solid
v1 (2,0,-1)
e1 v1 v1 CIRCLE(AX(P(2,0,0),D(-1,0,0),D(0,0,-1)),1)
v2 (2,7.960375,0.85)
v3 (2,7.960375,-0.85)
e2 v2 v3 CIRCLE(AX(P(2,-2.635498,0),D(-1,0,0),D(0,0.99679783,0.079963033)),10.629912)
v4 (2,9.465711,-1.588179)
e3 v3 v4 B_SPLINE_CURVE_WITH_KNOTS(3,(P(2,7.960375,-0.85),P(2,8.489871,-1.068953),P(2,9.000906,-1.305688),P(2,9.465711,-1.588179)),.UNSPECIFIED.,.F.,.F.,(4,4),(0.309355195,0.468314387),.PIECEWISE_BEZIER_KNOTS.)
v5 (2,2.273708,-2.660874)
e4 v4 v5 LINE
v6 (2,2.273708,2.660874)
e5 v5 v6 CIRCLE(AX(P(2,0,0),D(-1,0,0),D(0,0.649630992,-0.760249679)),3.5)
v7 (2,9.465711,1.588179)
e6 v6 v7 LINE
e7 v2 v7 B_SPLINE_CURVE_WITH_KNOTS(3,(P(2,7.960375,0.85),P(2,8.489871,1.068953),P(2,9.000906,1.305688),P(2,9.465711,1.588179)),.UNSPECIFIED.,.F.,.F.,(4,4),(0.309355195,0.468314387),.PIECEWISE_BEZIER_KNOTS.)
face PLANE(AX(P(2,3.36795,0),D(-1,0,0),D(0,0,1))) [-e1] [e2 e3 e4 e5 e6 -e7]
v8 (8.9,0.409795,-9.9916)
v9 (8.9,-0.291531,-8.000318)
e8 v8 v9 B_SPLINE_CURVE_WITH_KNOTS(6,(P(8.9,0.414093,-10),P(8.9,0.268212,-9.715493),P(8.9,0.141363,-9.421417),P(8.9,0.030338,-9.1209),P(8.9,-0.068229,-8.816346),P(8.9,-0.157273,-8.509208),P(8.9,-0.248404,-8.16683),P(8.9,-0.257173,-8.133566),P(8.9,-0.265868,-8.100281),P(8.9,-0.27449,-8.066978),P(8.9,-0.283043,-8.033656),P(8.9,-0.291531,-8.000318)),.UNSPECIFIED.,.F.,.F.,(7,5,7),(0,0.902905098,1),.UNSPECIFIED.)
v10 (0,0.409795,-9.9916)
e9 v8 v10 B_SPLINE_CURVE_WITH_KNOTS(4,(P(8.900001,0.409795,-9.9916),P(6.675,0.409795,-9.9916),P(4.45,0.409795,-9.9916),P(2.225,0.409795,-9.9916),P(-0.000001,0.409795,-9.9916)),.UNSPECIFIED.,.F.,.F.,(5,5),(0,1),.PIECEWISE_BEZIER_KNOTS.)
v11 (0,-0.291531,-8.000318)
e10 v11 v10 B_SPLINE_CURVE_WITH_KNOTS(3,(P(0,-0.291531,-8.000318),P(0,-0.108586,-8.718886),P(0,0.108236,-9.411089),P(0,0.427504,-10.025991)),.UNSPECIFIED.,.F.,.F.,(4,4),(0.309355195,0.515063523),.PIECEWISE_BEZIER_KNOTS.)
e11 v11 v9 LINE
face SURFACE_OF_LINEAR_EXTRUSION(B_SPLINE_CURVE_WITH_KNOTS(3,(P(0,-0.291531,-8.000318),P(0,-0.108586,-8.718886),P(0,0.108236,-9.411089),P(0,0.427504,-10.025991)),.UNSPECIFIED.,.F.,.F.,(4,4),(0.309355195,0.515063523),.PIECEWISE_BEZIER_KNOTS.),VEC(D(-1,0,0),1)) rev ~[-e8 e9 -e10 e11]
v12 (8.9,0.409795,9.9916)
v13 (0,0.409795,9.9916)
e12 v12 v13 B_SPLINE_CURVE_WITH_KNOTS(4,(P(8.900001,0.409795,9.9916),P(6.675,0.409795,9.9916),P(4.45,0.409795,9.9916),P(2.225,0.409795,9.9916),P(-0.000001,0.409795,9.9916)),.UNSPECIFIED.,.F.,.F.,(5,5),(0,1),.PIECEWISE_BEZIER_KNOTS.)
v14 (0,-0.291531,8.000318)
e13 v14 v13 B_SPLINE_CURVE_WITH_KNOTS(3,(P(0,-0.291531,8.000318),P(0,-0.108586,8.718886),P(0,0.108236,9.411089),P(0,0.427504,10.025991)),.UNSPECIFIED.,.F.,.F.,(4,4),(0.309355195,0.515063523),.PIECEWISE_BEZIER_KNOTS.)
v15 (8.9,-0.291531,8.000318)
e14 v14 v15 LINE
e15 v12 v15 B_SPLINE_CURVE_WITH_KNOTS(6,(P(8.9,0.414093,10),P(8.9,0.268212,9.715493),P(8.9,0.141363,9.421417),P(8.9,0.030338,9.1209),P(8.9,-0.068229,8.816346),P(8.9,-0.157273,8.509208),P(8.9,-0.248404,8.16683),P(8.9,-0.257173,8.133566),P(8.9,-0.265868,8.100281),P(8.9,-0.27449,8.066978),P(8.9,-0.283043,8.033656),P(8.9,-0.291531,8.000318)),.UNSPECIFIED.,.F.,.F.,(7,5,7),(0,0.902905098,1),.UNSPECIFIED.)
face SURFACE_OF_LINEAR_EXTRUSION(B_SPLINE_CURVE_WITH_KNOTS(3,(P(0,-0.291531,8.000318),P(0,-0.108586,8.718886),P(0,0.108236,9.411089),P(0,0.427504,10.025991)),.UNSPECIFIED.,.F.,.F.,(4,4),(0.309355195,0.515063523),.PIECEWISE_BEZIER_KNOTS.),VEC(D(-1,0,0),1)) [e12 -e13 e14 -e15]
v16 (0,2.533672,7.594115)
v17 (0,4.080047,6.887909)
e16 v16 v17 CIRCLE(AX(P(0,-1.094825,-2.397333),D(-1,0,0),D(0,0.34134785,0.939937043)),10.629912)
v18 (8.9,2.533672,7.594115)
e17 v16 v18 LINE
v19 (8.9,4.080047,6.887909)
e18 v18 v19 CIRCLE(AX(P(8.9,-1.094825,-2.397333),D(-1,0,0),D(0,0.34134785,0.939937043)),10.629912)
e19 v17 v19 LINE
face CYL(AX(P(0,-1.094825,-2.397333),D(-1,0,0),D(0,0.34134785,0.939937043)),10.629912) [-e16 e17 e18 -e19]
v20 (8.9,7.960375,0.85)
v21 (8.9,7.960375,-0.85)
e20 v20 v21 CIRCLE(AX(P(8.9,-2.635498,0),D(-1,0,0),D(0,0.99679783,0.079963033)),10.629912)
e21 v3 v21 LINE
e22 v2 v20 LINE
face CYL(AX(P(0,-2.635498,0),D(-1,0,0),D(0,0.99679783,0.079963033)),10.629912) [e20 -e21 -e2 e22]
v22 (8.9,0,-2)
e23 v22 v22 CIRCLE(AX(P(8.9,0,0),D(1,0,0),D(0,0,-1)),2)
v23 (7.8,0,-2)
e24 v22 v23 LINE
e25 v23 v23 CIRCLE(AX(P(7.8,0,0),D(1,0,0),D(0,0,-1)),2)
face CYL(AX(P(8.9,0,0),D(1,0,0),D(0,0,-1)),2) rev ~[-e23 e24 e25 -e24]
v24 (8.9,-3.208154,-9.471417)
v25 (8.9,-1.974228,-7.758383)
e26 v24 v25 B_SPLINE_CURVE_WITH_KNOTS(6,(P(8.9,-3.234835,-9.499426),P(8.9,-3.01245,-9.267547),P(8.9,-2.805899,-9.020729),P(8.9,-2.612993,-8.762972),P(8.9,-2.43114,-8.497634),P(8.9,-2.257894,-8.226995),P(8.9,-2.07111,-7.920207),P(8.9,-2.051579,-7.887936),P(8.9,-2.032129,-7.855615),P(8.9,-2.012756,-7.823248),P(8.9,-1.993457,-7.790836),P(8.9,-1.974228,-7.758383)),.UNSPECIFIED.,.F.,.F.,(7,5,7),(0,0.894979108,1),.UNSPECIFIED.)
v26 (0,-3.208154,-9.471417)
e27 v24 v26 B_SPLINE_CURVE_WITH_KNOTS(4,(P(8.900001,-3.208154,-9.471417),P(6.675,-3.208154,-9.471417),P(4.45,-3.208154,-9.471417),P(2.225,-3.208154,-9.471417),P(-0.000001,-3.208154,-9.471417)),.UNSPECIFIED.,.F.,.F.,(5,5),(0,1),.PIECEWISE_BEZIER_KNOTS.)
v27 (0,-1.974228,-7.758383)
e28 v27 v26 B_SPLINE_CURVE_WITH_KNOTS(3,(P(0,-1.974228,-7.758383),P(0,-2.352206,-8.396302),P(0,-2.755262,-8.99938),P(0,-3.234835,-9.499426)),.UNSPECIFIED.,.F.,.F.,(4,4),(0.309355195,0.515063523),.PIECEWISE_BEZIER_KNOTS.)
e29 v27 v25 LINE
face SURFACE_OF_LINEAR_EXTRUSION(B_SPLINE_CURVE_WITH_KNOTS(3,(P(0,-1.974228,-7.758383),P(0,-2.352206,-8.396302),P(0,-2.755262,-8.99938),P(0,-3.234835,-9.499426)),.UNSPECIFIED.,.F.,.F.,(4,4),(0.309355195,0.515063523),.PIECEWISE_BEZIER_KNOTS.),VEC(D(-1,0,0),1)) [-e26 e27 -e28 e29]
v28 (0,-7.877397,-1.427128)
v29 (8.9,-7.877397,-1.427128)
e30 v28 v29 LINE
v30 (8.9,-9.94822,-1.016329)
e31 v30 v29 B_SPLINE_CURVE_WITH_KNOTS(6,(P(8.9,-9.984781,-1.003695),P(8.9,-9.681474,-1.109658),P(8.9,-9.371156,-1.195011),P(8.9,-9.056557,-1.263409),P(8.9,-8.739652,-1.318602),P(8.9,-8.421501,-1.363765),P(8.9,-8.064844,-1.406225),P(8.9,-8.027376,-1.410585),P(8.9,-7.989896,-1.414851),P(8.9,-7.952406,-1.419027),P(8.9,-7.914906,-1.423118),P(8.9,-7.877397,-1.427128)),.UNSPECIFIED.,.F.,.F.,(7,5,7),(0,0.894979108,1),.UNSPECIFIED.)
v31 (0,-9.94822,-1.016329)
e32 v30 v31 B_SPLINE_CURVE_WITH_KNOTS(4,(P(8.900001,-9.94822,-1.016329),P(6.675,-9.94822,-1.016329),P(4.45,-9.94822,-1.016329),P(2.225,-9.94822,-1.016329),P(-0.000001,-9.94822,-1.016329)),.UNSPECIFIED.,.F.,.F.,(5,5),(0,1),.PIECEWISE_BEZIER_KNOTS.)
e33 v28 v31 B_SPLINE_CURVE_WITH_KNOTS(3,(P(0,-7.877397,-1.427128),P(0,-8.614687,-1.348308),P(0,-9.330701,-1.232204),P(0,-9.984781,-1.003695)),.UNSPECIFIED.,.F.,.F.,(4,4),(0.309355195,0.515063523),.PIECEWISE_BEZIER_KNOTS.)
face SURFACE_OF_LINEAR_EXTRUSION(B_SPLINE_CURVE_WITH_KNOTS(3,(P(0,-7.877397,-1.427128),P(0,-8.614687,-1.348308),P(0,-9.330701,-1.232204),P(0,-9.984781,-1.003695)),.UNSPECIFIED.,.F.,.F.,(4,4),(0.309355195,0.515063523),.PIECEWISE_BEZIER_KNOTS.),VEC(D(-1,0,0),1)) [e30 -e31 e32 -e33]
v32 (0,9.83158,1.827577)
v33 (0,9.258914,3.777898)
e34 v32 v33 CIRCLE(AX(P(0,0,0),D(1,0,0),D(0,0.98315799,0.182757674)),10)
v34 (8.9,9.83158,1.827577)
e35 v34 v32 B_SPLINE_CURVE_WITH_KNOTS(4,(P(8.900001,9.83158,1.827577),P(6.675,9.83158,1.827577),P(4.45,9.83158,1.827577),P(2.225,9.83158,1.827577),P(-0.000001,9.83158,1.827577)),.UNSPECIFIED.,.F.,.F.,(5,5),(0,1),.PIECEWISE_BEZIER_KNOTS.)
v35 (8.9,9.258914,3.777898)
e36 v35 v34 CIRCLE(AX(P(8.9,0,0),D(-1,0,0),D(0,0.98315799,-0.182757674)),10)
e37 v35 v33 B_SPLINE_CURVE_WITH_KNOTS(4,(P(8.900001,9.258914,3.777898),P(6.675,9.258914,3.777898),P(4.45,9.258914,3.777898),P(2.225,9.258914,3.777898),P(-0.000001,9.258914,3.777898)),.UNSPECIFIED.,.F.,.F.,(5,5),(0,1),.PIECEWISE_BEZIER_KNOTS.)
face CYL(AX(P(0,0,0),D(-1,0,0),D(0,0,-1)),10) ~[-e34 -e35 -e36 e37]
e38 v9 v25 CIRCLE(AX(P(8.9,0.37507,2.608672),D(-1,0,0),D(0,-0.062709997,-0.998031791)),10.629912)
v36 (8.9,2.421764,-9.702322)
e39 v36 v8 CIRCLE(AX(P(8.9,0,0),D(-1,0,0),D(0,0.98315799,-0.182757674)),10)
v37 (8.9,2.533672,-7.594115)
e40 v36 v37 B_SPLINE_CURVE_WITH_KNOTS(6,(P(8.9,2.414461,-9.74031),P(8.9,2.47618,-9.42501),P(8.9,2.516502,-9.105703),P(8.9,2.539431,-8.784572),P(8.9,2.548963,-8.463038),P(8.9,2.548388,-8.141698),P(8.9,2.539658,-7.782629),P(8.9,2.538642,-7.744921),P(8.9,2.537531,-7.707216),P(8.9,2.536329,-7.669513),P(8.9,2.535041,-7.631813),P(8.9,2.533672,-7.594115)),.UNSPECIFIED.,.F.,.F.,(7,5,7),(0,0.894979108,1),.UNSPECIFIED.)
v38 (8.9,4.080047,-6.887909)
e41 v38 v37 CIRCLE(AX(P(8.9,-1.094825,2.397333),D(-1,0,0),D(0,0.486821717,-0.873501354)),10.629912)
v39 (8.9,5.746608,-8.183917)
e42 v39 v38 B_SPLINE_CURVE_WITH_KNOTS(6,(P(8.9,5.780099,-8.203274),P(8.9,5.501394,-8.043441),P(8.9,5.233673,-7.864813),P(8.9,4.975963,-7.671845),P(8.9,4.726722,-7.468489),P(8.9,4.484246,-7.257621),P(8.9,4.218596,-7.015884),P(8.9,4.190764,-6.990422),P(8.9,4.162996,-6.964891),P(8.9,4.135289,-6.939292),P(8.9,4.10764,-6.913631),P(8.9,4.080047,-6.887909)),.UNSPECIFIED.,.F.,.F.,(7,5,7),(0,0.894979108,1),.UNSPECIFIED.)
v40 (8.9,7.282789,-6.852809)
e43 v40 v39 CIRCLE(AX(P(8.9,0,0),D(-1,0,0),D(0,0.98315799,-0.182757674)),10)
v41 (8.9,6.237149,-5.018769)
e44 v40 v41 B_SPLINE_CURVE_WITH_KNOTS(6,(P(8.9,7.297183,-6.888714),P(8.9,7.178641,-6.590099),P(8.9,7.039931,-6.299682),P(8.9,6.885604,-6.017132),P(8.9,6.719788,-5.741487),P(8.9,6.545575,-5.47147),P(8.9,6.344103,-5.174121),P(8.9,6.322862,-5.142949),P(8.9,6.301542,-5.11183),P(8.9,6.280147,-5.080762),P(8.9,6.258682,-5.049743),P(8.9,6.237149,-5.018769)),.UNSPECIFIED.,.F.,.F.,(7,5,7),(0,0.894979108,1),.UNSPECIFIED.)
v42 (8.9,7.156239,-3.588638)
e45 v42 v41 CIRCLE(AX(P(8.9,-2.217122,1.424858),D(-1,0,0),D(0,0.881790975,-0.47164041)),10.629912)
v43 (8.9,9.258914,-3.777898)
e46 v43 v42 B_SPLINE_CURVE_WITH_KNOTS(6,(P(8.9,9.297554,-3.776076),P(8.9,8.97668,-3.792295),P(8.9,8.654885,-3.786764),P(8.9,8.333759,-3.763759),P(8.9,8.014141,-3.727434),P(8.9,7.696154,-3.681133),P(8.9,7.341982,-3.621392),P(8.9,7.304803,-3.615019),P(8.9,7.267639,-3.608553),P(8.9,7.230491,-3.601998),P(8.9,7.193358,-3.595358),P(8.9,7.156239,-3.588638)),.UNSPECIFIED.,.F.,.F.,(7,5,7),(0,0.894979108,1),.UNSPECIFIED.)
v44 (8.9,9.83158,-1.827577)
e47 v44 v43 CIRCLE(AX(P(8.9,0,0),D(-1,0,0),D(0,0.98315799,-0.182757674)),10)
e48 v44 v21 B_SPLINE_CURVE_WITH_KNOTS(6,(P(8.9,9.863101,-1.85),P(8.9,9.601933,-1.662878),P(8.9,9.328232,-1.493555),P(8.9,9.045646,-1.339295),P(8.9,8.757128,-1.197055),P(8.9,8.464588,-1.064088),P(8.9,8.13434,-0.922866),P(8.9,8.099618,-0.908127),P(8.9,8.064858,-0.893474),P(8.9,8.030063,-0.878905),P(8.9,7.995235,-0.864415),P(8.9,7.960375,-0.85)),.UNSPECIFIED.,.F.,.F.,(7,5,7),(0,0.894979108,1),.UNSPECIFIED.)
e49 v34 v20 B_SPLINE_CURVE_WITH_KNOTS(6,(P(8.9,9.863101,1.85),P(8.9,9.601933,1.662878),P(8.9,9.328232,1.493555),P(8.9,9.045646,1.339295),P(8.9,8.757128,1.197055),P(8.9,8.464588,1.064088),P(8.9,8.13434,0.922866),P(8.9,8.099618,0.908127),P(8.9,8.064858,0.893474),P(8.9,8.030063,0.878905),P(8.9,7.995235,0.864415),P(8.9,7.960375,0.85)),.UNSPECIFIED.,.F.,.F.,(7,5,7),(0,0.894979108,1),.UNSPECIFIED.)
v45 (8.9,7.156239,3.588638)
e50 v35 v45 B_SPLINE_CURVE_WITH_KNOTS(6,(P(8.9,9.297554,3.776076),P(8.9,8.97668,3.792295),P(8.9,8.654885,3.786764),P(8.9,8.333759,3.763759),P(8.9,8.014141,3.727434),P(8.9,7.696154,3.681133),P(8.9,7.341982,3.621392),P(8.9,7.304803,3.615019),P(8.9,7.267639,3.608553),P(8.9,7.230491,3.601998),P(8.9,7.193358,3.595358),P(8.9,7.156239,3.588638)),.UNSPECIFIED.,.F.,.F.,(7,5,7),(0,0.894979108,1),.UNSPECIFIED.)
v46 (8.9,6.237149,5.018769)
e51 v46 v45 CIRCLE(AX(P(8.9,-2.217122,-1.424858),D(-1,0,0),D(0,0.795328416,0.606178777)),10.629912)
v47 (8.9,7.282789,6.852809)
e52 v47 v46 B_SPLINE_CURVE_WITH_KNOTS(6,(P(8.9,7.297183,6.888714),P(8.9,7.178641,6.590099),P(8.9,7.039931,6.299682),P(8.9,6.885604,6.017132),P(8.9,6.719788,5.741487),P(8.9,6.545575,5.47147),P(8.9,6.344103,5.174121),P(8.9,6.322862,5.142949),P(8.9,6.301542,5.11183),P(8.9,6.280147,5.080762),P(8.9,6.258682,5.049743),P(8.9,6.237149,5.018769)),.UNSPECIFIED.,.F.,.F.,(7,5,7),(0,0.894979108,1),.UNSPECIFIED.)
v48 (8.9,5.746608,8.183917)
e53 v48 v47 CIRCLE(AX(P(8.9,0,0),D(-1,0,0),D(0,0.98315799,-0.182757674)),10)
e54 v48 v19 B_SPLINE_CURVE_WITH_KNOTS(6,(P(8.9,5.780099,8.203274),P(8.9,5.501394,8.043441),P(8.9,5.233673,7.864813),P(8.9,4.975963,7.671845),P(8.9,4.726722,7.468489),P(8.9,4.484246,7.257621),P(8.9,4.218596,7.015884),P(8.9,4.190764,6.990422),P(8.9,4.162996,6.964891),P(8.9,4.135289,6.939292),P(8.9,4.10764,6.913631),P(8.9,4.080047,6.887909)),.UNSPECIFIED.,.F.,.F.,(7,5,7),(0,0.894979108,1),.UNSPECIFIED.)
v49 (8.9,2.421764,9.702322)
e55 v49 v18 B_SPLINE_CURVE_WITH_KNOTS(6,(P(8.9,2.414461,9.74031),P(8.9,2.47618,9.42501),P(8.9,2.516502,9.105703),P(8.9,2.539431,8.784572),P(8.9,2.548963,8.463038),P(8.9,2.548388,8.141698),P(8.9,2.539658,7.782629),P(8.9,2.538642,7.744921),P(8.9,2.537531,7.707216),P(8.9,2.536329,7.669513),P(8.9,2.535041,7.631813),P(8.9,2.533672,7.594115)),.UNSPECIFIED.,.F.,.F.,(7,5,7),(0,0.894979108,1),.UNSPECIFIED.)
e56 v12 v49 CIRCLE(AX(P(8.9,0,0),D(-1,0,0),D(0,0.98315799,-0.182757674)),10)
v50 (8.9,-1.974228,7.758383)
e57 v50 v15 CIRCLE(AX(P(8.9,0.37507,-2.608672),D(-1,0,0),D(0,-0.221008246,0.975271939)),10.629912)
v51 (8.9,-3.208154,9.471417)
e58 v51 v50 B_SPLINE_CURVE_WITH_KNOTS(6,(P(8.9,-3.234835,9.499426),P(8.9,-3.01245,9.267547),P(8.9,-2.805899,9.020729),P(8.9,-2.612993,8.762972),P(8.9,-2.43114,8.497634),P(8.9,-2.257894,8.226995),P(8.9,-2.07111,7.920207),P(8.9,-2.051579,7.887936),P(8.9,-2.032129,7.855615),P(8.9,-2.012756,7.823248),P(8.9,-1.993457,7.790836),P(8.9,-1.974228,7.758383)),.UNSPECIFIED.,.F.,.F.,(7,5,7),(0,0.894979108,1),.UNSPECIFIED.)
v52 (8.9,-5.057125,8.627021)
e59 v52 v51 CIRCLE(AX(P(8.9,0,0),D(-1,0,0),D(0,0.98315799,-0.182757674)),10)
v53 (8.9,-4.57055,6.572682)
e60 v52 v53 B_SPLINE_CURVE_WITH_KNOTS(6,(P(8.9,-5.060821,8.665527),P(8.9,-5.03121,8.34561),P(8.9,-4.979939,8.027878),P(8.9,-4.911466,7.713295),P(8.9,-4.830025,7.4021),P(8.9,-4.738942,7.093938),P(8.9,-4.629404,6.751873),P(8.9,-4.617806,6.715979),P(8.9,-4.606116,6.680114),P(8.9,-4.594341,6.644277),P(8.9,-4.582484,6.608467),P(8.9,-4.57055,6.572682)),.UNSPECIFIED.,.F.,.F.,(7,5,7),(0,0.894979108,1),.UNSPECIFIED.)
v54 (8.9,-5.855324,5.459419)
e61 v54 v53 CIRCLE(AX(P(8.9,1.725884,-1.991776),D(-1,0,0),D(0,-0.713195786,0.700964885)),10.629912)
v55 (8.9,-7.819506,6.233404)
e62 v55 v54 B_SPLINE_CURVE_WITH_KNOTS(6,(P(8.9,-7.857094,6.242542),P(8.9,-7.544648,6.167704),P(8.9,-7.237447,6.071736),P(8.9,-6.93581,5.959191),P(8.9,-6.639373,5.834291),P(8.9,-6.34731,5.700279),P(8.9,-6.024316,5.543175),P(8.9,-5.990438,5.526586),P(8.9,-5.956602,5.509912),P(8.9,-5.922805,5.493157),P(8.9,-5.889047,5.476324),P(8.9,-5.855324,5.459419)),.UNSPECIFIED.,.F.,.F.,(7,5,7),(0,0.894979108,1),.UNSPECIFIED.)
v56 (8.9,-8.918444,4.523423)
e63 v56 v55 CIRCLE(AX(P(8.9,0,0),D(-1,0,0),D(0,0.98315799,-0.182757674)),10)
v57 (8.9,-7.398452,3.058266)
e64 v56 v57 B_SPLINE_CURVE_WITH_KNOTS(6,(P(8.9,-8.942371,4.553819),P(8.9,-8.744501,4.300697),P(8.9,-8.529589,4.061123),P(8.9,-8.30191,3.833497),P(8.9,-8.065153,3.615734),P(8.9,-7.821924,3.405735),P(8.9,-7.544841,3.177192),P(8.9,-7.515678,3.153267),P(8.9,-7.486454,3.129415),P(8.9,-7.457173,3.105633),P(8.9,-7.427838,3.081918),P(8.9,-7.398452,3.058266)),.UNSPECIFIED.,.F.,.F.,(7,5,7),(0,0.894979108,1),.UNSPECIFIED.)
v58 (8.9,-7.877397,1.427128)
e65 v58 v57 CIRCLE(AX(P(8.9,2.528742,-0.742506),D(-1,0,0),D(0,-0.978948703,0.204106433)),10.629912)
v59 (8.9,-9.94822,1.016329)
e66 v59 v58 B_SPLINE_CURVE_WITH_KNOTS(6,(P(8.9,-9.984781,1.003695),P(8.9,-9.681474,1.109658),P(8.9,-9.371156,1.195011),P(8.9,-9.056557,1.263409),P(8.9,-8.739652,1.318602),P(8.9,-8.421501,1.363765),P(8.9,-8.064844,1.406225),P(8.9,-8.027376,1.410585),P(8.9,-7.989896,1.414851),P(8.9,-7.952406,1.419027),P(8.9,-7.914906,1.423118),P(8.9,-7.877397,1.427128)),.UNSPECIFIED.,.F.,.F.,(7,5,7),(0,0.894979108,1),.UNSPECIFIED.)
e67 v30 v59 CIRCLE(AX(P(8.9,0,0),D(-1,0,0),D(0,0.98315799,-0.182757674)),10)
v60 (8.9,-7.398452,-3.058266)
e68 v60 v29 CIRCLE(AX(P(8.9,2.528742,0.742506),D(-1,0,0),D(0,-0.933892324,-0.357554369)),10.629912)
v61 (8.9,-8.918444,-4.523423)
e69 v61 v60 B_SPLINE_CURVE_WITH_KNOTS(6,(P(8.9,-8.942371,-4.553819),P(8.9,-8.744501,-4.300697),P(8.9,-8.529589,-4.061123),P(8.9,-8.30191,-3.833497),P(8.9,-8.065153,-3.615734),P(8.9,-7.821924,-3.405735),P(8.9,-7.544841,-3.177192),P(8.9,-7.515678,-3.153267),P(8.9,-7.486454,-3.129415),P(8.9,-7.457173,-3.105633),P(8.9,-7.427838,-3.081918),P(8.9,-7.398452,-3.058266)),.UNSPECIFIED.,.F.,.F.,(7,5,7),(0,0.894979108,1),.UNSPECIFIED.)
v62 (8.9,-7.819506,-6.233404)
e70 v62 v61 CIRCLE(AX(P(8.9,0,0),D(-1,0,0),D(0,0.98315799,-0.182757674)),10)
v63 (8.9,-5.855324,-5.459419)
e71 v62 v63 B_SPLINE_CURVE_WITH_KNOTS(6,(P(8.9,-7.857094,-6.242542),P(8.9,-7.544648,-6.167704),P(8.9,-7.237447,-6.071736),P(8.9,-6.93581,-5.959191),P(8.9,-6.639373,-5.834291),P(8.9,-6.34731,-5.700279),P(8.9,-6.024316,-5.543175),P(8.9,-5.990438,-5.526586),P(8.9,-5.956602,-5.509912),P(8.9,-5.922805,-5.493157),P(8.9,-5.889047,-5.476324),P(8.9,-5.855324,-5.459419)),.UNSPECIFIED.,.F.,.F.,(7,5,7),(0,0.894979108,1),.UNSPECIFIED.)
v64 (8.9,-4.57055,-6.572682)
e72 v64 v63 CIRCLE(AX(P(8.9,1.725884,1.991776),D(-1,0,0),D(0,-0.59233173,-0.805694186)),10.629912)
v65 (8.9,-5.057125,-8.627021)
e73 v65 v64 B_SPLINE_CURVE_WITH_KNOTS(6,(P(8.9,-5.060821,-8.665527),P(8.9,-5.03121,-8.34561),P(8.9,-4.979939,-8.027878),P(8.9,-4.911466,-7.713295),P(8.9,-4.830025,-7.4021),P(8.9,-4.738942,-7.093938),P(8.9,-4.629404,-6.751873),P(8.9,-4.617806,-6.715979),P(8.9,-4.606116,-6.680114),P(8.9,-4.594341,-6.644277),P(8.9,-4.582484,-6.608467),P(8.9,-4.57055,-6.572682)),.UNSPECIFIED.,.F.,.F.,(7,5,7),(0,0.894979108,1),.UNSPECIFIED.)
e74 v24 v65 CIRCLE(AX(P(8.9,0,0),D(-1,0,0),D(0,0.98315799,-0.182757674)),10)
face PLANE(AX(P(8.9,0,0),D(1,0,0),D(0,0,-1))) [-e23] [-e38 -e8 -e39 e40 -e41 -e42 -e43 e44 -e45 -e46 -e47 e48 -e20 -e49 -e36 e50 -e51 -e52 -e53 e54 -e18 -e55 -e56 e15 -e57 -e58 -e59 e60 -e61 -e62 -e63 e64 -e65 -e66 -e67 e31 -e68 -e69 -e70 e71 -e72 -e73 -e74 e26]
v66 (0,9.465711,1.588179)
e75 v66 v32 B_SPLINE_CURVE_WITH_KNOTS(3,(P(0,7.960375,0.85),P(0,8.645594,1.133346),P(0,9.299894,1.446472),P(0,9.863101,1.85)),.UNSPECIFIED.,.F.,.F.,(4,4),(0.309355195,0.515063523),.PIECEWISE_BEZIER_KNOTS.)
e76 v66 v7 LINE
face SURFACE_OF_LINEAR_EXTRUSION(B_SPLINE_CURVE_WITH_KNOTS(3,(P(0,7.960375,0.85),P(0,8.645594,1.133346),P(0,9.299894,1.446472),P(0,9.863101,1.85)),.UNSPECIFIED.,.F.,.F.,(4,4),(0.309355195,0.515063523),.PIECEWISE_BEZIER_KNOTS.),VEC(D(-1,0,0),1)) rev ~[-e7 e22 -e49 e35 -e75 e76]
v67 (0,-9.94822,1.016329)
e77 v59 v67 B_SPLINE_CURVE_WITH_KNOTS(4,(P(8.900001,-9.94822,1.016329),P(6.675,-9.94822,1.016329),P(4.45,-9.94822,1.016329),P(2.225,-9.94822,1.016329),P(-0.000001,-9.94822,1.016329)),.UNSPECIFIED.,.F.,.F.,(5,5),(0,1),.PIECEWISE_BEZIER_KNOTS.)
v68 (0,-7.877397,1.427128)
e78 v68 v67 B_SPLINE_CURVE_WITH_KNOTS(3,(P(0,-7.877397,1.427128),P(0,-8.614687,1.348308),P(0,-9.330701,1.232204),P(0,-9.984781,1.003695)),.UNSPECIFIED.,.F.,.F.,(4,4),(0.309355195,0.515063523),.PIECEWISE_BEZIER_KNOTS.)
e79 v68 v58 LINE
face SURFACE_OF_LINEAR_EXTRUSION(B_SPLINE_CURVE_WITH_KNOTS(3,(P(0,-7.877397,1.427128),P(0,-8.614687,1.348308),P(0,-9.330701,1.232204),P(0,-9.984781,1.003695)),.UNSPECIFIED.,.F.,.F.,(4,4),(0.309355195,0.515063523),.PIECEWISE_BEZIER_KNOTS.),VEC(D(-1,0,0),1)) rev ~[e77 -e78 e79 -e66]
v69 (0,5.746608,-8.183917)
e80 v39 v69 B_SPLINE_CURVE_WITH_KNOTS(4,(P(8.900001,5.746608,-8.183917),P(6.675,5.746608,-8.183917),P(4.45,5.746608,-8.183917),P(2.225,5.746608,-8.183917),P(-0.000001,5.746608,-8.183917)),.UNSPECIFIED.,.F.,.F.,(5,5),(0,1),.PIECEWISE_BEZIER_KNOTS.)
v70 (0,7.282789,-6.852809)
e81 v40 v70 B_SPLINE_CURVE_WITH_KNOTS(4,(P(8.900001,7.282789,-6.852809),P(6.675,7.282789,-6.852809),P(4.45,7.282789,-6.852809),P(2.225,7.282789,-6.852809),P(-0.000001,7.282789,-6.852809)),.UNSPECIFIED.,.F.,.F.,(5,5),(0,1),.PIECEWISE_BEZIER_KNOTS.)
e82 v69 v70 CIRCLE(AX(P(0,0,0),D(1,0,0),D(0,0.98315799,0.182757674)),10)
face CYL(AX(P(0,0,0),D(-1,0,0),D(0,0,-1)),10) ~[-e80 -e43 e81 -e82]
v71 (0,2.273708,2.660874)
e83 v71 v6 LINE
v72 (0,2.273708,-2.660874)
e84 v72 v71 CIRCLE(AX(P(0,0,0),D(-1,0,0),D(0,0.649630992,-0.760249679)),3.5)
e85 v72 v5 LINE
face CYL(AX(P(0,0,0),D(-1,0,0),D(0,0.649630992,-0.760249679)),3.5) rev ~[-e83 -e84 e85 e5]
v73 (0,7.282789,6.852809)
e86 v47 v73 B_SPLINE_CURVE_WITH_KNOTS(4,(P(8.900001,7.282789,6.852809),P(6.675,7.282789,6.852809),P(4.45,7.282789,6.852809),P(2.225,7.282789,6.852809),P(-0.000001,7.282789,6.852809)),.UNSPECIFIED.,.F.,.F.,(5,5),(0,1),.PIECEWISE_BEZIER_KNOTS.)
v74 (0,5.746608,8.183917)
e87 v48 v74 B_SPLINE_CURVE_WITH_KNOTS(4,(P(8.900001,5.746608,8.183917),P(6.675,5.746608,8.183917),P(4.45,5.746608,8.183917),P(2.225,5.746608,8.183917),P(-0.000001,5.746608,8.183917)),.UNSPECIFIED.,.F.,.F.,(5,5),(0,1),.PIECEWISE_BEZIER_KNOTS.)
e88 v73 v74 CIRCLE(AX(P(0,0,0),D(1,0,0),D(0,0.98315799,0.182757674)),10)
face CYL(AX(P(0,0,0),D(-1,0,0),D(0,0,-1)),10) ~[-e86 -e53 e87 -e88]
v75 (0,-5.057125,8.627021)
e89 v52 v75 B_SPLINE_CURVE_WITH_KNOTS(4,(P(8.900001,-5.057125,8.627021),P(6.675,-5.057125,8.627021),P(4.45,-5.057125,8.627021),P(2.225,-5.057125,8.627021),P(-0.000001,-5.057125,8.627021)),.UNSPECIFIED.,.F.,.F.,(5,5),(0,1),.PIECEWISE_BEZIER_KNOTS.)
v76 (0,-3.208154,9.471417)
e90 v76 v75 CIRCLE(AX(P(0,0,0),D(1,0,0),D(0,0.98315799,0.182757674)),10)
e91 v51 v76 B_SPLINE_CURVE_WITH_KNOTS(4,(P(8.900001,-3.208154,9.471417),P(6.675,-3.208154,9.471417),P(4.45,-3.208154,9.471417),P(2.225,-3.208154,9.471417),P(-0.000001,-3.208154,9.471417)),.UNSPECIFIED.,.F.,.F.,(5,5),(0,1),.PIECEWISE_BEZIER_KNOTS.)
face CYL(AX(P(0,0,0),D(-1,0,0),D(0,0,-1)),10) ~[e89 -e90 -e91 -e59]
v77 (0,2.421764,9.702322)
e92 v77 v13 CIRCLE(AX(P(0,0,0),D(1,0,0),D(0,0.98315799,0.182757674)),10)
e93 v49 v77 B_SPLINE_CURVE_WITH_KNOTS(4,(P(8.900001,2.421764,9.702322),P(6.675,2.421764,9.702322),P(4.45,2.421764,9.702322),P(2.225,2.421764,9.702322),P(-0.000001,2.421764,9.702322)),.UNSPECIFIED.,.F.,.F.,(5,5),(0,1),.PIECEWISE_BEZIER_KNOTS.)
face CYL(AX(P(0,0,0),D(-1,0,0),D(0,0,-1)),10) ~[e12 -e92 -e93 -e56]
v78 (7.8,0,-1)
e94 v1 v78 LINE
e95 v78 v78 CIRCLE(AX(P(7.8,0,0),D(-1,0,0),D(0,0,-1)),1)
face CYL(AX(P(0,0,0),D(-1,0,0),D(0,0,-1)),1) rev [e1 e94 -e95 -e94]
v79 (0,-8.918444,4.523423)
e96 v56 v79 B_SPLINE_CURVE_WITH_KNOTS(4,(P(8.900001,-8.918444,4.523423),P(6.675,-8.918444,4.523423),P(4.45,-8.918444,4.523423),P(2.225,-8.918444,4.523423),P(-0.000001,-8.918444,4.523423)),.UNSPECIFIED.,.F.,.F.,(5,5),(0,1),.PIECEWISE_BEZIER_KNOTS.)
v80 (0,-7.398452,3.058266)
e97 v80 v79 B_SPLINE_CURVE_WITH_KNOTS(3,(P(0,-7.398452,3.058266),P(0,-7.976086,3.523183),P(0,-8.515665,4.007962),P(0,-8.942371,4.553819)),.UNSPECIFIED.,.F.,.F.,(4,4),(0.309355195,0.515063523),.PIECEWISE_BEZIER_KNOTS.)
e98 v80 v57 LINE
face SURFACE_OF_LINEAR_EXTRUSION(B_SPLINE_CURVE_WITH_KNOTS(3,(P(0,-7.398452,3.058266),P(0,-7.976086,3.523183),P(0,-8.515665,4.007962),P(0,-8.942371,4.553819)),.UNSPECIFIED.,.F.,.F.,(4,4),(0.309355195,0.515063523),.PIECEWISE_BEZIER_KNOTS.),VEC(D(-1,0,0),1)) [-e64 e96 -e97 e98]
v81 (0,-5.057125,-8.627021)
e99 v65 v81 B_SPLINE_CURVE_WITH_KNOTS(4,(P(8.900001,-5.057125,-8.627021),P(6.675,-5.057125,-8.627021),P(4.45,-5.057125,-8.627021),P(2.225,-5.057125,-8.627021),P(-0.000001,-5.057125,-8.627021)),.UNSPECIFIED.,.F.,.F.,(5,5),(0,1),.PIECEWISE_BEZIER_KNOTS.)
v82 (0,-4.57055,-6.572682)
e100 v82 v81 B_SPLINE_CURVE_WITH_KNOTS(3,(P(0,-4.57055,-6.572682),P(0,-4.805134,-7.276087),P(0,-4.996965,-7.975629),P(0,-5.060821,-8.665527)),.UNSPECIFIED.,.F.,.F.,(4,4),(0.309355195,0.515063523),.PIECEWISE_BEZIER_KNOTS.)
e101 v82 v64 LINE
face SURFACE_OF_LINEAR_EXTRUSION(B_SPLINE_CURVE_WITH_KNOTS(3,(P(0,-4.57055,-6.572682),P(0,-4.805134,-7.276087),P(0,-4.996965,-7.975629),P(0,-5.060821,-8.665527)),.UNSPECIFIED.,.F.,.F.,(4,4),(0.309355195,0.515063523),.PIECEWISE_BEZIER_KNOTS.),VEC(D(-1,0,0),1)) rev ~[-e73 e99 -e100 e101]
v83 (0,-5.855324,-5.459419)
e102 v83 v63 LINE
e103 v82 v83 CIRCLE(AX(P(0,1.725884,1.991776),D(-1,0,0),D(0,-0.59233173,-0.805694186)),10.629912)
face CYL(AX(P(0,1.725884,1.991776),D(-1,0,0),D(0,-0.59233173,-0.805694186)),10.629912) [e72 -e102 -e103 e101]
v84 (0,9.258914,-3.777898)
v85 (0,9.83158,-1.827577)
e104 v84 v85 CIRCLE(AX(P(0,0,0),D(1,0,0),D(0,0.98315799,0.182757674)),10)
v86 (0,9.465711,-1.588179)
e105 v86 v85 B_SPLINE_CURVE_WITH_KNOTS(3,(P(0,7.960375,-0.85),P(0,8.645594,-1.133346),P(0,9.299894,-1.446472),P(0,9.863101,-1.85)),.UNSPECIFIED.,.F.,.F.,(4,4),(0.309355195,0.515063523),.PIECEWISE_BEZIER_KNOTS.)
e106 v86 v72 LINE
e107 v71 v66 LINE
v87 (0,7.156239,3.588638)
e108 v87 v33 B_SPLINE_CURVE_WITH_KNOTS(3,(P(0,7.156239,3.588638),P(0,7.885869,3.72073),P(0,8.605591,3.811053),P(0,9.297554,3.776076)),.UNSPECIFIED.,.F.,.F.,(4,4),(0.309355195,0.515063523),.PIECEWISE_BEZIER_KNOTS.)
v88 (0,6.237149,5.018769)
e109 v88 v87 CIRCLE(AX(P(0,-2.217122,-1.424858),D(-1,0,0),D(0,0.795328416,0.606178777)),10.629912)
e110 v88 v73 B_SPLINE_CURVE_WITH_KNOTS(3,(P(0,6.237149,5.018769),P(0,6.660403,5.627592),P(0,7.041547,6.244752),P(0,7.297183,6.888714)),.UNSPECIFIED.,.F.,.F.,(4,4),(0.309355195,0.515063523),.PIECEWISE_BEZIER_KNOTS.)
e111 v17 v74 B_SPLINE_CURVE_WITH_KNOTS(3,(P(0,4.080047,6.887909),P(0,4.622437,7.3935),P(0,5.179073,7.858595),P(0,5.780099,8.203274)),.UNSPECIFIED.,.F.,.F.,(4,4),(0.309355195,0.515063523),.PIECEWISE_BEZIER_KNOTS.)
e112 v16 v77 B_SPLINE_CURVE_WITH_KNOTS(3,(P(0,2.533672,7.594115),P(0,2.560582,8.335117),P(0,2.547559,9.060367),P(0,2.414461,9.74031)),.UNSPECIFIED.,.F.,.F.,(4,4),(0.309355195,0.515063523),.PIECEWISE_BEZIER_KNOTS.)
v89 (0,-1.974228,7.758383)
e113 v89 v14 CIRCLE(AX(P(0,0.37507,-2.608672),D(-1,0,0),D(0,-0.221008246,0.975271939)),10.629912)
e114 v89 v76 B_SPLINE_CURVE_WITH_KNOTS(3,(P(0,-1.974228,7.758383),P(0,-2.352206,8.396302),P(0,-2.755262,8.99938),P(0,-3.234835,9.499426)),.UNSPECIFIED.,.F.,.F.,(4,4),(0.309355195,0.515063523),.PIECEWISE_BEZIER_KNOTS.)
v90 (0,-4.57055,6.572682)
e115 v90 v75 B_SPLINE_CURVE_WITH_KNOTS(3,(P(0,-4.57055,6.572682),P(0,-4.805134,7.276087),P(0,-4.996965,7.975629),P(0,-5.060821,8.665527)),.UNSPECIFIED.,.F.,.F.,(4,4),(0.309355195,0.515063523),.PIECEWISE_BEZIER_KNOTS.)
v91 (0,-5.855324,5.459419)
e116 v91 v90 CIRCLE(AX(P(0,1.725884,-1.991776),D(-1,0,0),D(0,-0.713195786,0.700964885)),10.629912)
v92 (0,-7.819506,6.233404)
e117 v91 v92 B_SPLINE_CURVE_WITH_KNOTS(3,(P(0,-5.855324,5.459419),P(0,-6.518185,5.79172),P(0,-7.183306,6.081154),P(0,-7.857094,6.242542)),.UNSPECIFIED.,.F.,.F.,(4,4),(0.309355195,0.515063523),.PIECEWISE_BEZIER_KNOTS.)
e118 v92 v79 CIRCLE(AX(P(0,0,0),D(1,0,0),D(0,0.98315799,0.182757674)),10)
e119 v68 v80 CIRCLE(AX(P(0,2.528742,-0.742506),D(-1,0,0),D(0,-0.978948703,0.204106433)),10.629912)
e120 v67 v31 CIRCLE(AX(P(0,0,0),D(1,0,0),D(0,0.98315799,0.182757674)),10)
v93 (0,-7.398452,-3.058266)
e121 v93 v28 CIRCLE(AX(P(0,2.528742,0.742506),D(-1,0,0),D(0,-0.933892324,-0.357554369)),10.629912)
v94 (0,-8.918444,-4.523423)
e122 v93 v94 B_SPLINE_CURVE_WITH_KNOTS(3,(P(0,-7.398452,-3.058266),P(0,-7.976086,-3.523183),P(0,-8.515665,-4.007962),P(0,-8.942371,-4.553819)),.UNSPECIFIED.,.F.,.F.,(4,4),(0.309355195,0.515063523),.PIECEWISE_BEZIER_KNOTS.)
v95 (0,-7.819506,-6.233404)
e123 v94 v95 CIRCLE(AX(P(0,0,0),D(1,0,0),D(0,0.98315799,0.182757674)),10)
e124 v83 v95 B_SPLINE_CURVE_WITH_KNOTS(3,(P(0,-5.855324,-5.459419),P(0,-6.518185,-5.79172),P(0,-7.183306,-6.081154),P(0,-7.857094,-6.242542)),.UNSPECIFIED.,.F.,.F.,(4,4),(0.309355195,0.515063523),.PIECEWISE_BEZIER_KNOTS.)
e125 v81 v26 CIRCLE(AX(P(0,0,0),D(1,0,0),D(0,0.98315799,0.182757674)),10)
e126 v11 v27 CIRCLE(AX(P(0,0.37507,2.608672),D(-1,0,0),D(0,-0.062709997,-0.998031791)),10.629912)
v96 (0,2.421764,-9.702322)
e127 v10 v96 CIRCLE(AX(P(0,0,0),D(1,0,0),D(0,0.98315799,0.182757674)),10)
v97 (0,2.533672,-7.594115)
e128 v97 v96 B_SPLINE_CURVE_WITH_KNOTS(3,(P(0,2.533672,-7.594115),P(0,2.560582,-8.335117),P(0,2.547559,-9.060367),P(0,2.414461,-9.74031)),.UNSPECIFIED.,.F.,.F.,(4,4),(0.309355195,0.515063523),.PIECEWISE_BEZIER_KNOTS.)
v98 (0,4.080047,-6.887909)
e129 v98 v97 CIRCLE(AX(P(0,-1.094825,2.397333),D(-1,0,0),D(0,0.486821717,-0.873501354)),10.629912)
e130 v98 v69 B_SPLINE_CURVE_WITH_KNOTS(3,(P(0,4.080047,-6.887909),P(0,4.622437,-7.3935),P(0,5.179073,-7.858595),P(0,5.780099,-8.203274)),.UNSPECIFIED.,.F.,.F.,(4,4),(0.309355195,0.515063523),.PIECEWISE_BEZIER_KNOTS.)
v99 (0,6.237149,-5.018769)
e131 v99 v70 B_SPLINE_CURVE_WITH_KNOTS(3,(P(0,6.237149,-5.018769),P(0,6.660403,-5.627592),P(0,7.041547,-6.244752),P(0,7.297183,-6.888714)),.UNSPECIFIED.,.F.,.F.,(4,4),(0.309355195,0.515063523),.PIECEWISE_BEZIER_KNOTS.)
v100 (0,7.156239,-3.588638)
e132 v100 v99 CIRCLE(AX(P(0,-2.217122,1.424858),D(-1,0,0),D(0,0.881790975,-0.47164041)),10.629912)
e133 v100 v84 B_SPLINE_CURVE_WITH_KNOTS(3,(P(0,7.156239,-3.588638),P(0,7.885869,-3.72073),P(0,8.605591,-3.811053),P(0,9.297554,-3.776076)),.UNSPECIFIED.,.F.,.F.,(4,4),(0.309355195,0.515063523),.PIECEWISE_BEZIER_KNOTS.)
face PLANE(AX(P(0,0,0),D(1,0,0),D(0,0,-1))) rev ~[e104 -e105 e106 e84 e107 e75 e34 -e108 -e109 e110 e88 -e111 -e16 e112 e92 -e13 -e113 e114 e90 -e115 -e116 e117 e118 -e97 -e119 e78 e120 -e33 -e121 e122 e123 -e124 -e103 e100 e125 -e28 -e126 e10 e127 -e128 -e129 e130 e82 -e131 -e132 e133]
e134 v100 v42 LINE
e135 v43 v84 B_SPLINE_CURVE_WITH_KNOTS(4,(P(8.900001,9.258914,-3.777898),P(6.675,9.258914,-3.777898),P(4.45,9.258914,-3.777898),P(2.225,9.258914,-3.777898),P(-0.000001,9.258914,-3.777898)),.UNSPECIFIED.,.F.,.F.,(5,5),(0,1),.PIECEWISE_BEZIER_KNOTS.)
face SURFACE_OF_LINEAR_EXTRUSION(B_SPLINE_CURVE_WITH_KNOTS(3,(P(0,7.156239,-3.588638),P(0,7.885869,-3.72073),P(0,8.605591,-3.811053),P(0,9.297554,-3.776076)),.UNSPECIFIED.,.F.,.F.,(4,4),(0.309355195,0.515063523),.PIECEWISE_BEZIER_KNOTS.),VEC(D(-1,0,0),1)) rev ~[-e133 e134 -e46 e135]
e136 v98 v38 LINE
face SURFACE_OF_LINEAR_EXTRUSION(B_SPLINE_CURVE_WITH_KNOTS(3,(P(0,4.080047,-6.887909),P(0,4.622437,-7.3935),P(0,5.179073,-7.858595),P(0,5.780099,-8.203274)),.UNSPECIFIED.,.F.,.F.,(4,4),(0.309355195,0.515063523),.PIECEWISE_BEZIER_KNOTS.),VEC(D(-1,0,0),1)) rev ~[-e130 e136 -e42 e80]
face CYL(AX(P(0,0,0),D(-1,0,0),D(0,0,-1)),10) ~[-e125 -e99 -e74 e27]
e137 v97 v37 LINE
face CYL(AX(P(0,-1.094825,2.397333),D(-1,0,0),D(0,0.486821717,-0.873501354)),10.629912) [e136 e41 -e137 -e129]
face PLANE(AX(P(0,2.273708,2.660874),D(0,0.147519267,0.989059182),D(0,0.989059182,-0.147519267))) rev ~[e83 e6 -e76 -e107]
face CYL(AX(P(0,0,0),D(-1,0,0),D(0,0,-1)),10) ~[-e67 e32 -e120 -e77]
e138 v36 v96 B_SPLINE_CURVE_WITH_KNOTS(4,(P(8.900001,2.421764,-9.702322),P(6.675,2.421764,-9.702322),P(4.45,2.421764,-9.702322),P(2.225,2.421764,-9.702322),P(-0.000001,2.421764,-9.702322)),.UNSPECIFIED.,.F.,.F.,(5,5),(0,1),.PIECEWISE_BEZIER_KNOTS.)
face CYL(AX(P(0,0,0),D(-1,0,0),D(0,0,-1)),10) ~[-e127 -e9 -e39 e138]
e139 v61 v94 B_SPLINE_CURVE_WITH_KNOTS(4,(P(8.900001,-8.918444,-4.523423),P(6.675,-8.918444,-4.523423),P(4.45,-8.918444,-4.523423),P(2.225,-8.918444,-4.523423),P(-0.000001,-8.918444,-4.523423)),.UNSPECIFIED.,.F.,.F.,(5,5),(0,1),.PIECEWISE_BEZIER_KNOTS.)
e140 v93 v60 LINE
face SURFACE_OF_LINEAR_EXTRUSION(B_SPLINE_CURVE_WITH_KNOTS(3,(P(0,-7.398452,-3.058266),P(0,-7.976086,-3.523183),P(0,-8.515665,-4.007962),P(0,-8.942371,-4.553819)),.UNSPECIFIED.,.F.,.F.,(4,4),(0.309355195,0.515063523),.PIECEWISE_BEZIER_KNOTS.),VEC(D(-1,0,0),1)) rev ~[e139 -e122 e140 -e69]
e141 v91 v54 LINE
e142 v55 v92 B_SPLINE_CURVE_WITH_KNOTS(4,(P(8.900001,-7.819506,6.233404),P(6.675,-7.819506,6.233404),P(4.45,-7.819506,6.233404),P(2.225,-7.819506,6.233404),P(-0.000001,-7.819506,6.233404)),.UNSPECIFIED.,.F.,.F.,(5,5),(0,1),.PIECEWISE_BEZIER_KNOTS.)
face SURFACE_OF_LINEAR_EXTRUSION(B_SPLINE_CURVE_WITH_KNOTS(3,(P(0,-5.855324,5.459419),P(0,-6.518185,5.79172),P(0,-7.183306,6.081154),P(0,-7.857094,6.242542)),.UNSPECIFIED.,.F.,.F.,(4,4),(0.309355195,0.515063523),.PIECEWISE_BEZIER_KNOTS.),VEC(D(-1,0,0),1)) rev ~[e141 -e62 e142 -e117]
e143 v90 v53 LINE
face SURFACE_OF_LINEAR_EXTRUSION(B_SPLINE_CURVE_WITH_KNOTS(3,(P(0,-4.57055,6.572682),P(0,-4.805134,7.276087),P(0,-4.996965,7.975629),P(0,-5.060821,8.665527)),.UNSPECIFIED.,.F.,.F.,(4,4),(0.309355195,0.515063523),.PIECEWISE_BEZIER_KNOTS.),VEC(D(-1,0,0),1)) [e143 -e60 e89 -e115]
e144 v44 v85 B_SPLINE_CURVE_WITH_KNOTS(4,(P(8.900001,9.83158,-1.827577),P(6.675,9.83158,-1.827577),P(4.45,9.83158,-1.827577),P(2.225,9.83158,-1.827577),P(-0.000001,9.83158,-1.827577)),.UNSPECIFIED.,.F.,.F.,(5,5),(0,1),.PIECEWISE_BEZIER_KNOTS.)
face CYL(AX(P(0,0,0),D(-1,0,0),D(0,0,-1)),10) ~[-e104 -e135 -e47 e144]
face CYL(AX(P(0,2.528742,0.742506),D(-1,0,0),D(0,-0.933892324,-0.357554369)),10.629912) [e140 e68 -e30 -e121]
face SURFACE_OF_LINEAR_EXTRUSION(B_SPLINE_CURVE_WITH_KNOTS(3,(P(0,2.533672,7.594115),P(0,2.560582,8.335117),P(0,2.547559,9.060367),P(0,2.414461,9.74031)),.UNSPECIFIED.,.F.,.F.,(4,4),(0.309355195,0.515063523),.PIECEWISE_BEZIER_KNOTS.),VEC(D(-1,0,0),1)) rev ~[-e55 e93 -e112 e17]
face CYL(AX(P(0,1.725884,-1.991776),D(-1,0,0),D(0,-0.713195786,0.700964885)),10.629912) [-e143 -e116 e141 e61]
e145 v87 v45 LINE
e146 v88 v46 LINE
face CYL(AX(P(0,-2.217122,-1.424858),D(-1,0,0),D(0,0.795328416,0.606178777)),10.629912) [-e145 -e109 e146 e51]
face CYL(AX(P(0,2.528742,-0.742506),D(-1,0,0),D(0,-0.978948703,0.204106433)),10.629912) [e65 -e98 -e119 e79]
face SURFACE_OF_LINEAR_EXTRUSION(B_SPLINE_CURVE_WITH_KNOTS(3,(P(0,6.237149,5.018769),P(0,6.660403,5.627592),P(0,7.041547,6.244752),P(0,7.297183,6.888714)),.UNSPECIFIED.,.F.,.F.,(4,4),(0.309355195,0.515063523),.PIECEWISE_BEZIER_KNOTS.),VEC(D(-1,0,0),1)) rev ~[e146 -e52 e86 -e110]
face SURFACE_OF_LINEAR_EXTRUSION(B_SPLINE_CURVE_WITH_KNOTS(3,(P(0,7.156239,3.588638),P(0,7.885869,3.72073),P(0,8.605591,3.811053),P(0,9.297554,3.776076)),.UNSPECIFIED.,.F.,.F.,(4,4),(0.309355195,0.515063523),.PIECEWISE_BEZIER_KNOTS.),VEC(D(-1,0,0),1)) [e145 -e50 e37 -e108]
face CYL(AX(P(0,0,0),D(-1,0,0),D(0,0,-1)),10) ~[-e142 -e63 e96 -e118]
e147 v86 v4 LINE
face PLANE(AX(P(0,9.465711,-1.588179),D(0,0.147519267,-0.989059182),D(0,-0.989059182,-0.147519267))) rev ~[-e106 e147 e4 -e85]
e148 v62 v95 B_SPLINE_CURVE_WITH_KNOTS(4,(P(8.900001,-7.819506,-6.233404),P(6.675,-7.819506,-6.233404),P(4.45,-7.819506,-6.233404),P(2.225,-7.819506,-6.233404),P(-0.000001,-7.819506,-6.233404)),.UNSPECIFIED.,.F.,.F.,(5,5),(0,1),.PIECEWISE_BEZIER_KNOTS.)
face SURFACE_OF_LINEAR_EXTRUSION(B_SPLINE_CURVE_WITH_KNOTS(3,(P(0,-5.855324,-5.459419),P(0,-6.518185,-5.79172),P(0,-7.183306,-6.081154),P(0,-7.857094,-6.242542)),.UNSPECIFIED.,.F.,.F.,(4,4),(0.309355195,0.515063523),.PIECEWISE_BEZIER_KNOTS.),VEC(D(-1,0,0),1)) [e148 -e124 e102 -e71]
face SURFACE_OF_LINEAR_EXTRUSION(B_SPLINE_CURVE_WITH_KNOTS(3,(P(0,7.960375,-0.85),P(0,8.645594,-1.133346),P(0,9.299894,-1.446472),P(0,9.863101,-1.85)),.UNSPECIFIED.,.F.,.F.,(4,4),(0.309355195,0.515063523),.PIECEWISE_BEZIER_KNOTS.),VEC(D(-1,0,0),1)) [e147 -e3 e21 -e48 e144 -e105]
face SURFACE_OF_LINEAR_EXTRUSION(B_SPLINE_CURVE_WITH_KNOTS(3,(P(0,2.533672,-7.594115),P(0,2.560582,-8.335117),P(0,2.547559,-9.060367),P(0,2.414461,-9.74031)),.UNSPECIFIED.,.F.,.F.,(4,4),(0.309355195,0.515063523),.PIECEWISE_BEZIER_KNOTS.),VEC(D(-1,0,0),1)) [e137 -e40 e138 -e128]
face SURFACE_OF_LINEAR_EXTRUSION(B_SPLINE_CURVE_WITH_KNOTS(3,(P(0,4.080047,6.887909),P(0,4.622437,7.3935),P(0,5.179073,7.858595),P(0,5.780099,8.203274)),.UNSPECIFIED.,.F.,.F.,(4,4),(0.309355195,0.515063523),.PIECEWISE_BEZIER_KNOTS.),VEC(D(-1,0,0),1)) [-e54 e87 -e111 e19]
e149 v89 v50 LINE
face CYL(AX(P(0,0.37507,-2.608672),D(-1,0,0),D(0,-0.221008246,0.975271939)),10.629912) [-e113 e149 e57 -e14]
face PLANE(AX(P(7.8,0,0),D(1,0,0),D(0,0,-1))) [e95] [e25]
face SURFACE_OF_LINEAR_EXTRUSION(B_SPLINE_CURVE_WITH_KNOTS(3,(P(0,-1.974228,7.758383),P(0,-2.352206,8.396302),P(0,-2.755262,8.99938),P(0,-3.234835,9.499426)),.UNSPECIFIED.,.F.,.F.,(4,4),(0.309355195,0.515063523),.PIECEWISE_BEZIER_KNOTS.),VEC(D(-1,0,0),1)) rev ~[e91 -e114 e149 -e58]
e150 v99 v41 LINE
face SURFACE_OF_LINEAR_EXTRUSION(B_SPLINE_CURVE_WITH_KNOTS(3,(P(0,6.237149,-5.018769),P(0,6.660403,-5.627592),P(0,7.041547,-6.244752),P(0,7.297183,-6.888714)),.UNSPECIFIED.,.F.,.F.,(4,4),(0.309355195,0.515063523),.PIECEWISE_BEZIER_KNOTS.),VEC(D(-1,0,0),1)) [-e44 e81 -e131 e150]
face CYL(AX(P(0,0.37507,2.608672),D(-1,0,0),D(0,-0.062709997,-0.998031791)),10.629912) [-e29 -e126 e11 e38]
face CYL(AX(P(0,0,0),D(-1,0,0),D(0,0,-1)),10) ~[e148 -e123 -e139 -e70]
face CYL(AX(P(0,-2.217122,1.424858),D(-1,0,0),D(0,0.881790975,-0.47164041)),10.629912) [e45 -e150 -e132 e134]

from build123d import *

# Parameters (mm, degrees)
SKETCH2_R           = 10
SKETCH2_R_2         = 1
BOSS_EXTRUDE2_DEPTH = 8.9
SKETCH6_W           = 1.518009011
SKETCH6_H           = 0.616954646
CUT_EXTRUDE4_DEPTH  = 10
CIRPATTERN2_COUNT   = 11
SKETCH9_R           = 1
CUT_EXTRUDE6_DEPTH  = 2
SKETCH7_R           = 2
SKETCH7_R_2         = 1
CUT_EXTRUDE5_DEPTH  = 1.1


with BuildPart() as part:
    # Sketch2 → Boss-Extrude2 (new body)
    with BuildSketch(Plane(origin=(0, 0, 0), x_dir=(0, 0, -1), z_dir=(1, 0, 0))):
        Circle(SKETCH2_R)
        Circle(SKETCH2_R_2, mode=Mode.SUBTRACT)
    extrude(amount=BOSS_EXTRUDE2_DEPTH)

    # Sketch6 → Cut-Extrude4 (cut)
    with BuildSketch(Plane(origin=(0, 0, 0), x_dir=(0, 0, -1), z_dir=(1, 0, 0))):
        with Locations((-0.000564754, 9.986199456)):
            Rectangle(SKETCH6_W, SKETCH6_H)
        with BuildLine():
            ThreePointArc((1.85, 9.863100717), (0, 9.999274253), (-1.85, 9.863100717))
            add(Edge.make_bspline(
                [(-0.85, 7.960375373), (-1.133345882, 8.645593633), (-1.446471715, 9.299894306), (-1.85, 9.863100717)],
                knots=[0.309355195, 0.309355195, 0.309355195, 0.309355195, 0.515063523, 0.515063523, 0.515063523, 0.515063523], degree=3))
            ThreePointArc((-0.85, 7.960375373), (0, 7.994414161), (0.85, 7.960375373))
            add(Edge.make_bspline(
                [(0.85, 7.960375373), (1.133345882, 8.645593633), (1.446471715, 9.299894306), (1.85, 9.863100717)],
                knots=[0.309355195, 0.309355195, 0.309355195, 0.309355195, 0.515063523, 0.515063523, 0.515063523, 0.515063523], degree=3))
        make_face()
    cut_extrude4 = extrude(amount=CUT_EXTRUDE4_DEPTH, mode=Mode.SUBTRACT)

    # CirPattern2: Cut-Extrude4 ×11 about axis
    cirpattern2_axis = Axis((8.9, 0, 0), (-1, 0, 0))
    for i in range(1, CIRPATTERN2_COUNT):
        add(cut_extrude4.rotate(cirpattern2_axis, i * 360 / CIRPATTERN2_COUNT), mode=Mode.SUBTRACT)

    # Sketch9 → Cut-Extrude6 (cut)
    with BuildSketch(Plane.ZY):
        with BuildLine():
            add(Edge.make_bspline(
                [(-0.85, 7.960375373), (-1.068952888, 8.489871392), (-1.305688222, 9.000905649), (-1.588178753, 9.465711111)],
                knots=[0.309355195, 0.309355195, 0.309355195, 0.309355195, 0.468314387, 0.468314387, 0.468314387, 0.468314387], degree=3))
            Line((-1.588178753, 9.465711111), (-2.660873875, 2.273708474))
            ThreePointArc((-2.660873875, 2.273708474), (0, -3.5), (2.660873875, 2.273708474))
            Line((2.660873875, 2.273708474), (1.588178753, 9.465711111))
            add(Edge.make_bspline(
                [(0.85, 7.960375373), (1.068952888, 8.489871392), (1.305688222, 9.000905649), (1.588178753, 9.465711111)],
                knots=[0.309355195, 0.309355195, 0.309355195, 0.309355195, 0.468314387, 0.468314387, 0.468314387, 0.468314387], degree=3))
            ThreePointArc((0.85, 7.960375373), (0, 7.994414161), (-0.85, 7.960375373))
        make_face()
        Circle(SKETCH9_R, mode=Mode.SUBTRACT)
    extrude(amount=-CUT_EXTRUDE6_DEPTH, mode=Mode.SUBTRACT)

    # Sketch7 → Cut-Extrude5 (cut)
    with BuildSketch(Plane(origin=(8.9, 0, 0), x_dir=(0, 0, -1), z_dir=(1, 0, 0))):
        Circle(SKETCH7_R)
        with Locations(Location((0, 0, 0), (0, 0, 180))):  # turned: the seam where the file's is
            Circle(SKETCH7_R_2, mode=Mode.SUBTRACT)
    extrude(amount=-CUT_EXTRUDE5_DEPTH, mode=Mode.SUBTRACT)


solid = part.part
